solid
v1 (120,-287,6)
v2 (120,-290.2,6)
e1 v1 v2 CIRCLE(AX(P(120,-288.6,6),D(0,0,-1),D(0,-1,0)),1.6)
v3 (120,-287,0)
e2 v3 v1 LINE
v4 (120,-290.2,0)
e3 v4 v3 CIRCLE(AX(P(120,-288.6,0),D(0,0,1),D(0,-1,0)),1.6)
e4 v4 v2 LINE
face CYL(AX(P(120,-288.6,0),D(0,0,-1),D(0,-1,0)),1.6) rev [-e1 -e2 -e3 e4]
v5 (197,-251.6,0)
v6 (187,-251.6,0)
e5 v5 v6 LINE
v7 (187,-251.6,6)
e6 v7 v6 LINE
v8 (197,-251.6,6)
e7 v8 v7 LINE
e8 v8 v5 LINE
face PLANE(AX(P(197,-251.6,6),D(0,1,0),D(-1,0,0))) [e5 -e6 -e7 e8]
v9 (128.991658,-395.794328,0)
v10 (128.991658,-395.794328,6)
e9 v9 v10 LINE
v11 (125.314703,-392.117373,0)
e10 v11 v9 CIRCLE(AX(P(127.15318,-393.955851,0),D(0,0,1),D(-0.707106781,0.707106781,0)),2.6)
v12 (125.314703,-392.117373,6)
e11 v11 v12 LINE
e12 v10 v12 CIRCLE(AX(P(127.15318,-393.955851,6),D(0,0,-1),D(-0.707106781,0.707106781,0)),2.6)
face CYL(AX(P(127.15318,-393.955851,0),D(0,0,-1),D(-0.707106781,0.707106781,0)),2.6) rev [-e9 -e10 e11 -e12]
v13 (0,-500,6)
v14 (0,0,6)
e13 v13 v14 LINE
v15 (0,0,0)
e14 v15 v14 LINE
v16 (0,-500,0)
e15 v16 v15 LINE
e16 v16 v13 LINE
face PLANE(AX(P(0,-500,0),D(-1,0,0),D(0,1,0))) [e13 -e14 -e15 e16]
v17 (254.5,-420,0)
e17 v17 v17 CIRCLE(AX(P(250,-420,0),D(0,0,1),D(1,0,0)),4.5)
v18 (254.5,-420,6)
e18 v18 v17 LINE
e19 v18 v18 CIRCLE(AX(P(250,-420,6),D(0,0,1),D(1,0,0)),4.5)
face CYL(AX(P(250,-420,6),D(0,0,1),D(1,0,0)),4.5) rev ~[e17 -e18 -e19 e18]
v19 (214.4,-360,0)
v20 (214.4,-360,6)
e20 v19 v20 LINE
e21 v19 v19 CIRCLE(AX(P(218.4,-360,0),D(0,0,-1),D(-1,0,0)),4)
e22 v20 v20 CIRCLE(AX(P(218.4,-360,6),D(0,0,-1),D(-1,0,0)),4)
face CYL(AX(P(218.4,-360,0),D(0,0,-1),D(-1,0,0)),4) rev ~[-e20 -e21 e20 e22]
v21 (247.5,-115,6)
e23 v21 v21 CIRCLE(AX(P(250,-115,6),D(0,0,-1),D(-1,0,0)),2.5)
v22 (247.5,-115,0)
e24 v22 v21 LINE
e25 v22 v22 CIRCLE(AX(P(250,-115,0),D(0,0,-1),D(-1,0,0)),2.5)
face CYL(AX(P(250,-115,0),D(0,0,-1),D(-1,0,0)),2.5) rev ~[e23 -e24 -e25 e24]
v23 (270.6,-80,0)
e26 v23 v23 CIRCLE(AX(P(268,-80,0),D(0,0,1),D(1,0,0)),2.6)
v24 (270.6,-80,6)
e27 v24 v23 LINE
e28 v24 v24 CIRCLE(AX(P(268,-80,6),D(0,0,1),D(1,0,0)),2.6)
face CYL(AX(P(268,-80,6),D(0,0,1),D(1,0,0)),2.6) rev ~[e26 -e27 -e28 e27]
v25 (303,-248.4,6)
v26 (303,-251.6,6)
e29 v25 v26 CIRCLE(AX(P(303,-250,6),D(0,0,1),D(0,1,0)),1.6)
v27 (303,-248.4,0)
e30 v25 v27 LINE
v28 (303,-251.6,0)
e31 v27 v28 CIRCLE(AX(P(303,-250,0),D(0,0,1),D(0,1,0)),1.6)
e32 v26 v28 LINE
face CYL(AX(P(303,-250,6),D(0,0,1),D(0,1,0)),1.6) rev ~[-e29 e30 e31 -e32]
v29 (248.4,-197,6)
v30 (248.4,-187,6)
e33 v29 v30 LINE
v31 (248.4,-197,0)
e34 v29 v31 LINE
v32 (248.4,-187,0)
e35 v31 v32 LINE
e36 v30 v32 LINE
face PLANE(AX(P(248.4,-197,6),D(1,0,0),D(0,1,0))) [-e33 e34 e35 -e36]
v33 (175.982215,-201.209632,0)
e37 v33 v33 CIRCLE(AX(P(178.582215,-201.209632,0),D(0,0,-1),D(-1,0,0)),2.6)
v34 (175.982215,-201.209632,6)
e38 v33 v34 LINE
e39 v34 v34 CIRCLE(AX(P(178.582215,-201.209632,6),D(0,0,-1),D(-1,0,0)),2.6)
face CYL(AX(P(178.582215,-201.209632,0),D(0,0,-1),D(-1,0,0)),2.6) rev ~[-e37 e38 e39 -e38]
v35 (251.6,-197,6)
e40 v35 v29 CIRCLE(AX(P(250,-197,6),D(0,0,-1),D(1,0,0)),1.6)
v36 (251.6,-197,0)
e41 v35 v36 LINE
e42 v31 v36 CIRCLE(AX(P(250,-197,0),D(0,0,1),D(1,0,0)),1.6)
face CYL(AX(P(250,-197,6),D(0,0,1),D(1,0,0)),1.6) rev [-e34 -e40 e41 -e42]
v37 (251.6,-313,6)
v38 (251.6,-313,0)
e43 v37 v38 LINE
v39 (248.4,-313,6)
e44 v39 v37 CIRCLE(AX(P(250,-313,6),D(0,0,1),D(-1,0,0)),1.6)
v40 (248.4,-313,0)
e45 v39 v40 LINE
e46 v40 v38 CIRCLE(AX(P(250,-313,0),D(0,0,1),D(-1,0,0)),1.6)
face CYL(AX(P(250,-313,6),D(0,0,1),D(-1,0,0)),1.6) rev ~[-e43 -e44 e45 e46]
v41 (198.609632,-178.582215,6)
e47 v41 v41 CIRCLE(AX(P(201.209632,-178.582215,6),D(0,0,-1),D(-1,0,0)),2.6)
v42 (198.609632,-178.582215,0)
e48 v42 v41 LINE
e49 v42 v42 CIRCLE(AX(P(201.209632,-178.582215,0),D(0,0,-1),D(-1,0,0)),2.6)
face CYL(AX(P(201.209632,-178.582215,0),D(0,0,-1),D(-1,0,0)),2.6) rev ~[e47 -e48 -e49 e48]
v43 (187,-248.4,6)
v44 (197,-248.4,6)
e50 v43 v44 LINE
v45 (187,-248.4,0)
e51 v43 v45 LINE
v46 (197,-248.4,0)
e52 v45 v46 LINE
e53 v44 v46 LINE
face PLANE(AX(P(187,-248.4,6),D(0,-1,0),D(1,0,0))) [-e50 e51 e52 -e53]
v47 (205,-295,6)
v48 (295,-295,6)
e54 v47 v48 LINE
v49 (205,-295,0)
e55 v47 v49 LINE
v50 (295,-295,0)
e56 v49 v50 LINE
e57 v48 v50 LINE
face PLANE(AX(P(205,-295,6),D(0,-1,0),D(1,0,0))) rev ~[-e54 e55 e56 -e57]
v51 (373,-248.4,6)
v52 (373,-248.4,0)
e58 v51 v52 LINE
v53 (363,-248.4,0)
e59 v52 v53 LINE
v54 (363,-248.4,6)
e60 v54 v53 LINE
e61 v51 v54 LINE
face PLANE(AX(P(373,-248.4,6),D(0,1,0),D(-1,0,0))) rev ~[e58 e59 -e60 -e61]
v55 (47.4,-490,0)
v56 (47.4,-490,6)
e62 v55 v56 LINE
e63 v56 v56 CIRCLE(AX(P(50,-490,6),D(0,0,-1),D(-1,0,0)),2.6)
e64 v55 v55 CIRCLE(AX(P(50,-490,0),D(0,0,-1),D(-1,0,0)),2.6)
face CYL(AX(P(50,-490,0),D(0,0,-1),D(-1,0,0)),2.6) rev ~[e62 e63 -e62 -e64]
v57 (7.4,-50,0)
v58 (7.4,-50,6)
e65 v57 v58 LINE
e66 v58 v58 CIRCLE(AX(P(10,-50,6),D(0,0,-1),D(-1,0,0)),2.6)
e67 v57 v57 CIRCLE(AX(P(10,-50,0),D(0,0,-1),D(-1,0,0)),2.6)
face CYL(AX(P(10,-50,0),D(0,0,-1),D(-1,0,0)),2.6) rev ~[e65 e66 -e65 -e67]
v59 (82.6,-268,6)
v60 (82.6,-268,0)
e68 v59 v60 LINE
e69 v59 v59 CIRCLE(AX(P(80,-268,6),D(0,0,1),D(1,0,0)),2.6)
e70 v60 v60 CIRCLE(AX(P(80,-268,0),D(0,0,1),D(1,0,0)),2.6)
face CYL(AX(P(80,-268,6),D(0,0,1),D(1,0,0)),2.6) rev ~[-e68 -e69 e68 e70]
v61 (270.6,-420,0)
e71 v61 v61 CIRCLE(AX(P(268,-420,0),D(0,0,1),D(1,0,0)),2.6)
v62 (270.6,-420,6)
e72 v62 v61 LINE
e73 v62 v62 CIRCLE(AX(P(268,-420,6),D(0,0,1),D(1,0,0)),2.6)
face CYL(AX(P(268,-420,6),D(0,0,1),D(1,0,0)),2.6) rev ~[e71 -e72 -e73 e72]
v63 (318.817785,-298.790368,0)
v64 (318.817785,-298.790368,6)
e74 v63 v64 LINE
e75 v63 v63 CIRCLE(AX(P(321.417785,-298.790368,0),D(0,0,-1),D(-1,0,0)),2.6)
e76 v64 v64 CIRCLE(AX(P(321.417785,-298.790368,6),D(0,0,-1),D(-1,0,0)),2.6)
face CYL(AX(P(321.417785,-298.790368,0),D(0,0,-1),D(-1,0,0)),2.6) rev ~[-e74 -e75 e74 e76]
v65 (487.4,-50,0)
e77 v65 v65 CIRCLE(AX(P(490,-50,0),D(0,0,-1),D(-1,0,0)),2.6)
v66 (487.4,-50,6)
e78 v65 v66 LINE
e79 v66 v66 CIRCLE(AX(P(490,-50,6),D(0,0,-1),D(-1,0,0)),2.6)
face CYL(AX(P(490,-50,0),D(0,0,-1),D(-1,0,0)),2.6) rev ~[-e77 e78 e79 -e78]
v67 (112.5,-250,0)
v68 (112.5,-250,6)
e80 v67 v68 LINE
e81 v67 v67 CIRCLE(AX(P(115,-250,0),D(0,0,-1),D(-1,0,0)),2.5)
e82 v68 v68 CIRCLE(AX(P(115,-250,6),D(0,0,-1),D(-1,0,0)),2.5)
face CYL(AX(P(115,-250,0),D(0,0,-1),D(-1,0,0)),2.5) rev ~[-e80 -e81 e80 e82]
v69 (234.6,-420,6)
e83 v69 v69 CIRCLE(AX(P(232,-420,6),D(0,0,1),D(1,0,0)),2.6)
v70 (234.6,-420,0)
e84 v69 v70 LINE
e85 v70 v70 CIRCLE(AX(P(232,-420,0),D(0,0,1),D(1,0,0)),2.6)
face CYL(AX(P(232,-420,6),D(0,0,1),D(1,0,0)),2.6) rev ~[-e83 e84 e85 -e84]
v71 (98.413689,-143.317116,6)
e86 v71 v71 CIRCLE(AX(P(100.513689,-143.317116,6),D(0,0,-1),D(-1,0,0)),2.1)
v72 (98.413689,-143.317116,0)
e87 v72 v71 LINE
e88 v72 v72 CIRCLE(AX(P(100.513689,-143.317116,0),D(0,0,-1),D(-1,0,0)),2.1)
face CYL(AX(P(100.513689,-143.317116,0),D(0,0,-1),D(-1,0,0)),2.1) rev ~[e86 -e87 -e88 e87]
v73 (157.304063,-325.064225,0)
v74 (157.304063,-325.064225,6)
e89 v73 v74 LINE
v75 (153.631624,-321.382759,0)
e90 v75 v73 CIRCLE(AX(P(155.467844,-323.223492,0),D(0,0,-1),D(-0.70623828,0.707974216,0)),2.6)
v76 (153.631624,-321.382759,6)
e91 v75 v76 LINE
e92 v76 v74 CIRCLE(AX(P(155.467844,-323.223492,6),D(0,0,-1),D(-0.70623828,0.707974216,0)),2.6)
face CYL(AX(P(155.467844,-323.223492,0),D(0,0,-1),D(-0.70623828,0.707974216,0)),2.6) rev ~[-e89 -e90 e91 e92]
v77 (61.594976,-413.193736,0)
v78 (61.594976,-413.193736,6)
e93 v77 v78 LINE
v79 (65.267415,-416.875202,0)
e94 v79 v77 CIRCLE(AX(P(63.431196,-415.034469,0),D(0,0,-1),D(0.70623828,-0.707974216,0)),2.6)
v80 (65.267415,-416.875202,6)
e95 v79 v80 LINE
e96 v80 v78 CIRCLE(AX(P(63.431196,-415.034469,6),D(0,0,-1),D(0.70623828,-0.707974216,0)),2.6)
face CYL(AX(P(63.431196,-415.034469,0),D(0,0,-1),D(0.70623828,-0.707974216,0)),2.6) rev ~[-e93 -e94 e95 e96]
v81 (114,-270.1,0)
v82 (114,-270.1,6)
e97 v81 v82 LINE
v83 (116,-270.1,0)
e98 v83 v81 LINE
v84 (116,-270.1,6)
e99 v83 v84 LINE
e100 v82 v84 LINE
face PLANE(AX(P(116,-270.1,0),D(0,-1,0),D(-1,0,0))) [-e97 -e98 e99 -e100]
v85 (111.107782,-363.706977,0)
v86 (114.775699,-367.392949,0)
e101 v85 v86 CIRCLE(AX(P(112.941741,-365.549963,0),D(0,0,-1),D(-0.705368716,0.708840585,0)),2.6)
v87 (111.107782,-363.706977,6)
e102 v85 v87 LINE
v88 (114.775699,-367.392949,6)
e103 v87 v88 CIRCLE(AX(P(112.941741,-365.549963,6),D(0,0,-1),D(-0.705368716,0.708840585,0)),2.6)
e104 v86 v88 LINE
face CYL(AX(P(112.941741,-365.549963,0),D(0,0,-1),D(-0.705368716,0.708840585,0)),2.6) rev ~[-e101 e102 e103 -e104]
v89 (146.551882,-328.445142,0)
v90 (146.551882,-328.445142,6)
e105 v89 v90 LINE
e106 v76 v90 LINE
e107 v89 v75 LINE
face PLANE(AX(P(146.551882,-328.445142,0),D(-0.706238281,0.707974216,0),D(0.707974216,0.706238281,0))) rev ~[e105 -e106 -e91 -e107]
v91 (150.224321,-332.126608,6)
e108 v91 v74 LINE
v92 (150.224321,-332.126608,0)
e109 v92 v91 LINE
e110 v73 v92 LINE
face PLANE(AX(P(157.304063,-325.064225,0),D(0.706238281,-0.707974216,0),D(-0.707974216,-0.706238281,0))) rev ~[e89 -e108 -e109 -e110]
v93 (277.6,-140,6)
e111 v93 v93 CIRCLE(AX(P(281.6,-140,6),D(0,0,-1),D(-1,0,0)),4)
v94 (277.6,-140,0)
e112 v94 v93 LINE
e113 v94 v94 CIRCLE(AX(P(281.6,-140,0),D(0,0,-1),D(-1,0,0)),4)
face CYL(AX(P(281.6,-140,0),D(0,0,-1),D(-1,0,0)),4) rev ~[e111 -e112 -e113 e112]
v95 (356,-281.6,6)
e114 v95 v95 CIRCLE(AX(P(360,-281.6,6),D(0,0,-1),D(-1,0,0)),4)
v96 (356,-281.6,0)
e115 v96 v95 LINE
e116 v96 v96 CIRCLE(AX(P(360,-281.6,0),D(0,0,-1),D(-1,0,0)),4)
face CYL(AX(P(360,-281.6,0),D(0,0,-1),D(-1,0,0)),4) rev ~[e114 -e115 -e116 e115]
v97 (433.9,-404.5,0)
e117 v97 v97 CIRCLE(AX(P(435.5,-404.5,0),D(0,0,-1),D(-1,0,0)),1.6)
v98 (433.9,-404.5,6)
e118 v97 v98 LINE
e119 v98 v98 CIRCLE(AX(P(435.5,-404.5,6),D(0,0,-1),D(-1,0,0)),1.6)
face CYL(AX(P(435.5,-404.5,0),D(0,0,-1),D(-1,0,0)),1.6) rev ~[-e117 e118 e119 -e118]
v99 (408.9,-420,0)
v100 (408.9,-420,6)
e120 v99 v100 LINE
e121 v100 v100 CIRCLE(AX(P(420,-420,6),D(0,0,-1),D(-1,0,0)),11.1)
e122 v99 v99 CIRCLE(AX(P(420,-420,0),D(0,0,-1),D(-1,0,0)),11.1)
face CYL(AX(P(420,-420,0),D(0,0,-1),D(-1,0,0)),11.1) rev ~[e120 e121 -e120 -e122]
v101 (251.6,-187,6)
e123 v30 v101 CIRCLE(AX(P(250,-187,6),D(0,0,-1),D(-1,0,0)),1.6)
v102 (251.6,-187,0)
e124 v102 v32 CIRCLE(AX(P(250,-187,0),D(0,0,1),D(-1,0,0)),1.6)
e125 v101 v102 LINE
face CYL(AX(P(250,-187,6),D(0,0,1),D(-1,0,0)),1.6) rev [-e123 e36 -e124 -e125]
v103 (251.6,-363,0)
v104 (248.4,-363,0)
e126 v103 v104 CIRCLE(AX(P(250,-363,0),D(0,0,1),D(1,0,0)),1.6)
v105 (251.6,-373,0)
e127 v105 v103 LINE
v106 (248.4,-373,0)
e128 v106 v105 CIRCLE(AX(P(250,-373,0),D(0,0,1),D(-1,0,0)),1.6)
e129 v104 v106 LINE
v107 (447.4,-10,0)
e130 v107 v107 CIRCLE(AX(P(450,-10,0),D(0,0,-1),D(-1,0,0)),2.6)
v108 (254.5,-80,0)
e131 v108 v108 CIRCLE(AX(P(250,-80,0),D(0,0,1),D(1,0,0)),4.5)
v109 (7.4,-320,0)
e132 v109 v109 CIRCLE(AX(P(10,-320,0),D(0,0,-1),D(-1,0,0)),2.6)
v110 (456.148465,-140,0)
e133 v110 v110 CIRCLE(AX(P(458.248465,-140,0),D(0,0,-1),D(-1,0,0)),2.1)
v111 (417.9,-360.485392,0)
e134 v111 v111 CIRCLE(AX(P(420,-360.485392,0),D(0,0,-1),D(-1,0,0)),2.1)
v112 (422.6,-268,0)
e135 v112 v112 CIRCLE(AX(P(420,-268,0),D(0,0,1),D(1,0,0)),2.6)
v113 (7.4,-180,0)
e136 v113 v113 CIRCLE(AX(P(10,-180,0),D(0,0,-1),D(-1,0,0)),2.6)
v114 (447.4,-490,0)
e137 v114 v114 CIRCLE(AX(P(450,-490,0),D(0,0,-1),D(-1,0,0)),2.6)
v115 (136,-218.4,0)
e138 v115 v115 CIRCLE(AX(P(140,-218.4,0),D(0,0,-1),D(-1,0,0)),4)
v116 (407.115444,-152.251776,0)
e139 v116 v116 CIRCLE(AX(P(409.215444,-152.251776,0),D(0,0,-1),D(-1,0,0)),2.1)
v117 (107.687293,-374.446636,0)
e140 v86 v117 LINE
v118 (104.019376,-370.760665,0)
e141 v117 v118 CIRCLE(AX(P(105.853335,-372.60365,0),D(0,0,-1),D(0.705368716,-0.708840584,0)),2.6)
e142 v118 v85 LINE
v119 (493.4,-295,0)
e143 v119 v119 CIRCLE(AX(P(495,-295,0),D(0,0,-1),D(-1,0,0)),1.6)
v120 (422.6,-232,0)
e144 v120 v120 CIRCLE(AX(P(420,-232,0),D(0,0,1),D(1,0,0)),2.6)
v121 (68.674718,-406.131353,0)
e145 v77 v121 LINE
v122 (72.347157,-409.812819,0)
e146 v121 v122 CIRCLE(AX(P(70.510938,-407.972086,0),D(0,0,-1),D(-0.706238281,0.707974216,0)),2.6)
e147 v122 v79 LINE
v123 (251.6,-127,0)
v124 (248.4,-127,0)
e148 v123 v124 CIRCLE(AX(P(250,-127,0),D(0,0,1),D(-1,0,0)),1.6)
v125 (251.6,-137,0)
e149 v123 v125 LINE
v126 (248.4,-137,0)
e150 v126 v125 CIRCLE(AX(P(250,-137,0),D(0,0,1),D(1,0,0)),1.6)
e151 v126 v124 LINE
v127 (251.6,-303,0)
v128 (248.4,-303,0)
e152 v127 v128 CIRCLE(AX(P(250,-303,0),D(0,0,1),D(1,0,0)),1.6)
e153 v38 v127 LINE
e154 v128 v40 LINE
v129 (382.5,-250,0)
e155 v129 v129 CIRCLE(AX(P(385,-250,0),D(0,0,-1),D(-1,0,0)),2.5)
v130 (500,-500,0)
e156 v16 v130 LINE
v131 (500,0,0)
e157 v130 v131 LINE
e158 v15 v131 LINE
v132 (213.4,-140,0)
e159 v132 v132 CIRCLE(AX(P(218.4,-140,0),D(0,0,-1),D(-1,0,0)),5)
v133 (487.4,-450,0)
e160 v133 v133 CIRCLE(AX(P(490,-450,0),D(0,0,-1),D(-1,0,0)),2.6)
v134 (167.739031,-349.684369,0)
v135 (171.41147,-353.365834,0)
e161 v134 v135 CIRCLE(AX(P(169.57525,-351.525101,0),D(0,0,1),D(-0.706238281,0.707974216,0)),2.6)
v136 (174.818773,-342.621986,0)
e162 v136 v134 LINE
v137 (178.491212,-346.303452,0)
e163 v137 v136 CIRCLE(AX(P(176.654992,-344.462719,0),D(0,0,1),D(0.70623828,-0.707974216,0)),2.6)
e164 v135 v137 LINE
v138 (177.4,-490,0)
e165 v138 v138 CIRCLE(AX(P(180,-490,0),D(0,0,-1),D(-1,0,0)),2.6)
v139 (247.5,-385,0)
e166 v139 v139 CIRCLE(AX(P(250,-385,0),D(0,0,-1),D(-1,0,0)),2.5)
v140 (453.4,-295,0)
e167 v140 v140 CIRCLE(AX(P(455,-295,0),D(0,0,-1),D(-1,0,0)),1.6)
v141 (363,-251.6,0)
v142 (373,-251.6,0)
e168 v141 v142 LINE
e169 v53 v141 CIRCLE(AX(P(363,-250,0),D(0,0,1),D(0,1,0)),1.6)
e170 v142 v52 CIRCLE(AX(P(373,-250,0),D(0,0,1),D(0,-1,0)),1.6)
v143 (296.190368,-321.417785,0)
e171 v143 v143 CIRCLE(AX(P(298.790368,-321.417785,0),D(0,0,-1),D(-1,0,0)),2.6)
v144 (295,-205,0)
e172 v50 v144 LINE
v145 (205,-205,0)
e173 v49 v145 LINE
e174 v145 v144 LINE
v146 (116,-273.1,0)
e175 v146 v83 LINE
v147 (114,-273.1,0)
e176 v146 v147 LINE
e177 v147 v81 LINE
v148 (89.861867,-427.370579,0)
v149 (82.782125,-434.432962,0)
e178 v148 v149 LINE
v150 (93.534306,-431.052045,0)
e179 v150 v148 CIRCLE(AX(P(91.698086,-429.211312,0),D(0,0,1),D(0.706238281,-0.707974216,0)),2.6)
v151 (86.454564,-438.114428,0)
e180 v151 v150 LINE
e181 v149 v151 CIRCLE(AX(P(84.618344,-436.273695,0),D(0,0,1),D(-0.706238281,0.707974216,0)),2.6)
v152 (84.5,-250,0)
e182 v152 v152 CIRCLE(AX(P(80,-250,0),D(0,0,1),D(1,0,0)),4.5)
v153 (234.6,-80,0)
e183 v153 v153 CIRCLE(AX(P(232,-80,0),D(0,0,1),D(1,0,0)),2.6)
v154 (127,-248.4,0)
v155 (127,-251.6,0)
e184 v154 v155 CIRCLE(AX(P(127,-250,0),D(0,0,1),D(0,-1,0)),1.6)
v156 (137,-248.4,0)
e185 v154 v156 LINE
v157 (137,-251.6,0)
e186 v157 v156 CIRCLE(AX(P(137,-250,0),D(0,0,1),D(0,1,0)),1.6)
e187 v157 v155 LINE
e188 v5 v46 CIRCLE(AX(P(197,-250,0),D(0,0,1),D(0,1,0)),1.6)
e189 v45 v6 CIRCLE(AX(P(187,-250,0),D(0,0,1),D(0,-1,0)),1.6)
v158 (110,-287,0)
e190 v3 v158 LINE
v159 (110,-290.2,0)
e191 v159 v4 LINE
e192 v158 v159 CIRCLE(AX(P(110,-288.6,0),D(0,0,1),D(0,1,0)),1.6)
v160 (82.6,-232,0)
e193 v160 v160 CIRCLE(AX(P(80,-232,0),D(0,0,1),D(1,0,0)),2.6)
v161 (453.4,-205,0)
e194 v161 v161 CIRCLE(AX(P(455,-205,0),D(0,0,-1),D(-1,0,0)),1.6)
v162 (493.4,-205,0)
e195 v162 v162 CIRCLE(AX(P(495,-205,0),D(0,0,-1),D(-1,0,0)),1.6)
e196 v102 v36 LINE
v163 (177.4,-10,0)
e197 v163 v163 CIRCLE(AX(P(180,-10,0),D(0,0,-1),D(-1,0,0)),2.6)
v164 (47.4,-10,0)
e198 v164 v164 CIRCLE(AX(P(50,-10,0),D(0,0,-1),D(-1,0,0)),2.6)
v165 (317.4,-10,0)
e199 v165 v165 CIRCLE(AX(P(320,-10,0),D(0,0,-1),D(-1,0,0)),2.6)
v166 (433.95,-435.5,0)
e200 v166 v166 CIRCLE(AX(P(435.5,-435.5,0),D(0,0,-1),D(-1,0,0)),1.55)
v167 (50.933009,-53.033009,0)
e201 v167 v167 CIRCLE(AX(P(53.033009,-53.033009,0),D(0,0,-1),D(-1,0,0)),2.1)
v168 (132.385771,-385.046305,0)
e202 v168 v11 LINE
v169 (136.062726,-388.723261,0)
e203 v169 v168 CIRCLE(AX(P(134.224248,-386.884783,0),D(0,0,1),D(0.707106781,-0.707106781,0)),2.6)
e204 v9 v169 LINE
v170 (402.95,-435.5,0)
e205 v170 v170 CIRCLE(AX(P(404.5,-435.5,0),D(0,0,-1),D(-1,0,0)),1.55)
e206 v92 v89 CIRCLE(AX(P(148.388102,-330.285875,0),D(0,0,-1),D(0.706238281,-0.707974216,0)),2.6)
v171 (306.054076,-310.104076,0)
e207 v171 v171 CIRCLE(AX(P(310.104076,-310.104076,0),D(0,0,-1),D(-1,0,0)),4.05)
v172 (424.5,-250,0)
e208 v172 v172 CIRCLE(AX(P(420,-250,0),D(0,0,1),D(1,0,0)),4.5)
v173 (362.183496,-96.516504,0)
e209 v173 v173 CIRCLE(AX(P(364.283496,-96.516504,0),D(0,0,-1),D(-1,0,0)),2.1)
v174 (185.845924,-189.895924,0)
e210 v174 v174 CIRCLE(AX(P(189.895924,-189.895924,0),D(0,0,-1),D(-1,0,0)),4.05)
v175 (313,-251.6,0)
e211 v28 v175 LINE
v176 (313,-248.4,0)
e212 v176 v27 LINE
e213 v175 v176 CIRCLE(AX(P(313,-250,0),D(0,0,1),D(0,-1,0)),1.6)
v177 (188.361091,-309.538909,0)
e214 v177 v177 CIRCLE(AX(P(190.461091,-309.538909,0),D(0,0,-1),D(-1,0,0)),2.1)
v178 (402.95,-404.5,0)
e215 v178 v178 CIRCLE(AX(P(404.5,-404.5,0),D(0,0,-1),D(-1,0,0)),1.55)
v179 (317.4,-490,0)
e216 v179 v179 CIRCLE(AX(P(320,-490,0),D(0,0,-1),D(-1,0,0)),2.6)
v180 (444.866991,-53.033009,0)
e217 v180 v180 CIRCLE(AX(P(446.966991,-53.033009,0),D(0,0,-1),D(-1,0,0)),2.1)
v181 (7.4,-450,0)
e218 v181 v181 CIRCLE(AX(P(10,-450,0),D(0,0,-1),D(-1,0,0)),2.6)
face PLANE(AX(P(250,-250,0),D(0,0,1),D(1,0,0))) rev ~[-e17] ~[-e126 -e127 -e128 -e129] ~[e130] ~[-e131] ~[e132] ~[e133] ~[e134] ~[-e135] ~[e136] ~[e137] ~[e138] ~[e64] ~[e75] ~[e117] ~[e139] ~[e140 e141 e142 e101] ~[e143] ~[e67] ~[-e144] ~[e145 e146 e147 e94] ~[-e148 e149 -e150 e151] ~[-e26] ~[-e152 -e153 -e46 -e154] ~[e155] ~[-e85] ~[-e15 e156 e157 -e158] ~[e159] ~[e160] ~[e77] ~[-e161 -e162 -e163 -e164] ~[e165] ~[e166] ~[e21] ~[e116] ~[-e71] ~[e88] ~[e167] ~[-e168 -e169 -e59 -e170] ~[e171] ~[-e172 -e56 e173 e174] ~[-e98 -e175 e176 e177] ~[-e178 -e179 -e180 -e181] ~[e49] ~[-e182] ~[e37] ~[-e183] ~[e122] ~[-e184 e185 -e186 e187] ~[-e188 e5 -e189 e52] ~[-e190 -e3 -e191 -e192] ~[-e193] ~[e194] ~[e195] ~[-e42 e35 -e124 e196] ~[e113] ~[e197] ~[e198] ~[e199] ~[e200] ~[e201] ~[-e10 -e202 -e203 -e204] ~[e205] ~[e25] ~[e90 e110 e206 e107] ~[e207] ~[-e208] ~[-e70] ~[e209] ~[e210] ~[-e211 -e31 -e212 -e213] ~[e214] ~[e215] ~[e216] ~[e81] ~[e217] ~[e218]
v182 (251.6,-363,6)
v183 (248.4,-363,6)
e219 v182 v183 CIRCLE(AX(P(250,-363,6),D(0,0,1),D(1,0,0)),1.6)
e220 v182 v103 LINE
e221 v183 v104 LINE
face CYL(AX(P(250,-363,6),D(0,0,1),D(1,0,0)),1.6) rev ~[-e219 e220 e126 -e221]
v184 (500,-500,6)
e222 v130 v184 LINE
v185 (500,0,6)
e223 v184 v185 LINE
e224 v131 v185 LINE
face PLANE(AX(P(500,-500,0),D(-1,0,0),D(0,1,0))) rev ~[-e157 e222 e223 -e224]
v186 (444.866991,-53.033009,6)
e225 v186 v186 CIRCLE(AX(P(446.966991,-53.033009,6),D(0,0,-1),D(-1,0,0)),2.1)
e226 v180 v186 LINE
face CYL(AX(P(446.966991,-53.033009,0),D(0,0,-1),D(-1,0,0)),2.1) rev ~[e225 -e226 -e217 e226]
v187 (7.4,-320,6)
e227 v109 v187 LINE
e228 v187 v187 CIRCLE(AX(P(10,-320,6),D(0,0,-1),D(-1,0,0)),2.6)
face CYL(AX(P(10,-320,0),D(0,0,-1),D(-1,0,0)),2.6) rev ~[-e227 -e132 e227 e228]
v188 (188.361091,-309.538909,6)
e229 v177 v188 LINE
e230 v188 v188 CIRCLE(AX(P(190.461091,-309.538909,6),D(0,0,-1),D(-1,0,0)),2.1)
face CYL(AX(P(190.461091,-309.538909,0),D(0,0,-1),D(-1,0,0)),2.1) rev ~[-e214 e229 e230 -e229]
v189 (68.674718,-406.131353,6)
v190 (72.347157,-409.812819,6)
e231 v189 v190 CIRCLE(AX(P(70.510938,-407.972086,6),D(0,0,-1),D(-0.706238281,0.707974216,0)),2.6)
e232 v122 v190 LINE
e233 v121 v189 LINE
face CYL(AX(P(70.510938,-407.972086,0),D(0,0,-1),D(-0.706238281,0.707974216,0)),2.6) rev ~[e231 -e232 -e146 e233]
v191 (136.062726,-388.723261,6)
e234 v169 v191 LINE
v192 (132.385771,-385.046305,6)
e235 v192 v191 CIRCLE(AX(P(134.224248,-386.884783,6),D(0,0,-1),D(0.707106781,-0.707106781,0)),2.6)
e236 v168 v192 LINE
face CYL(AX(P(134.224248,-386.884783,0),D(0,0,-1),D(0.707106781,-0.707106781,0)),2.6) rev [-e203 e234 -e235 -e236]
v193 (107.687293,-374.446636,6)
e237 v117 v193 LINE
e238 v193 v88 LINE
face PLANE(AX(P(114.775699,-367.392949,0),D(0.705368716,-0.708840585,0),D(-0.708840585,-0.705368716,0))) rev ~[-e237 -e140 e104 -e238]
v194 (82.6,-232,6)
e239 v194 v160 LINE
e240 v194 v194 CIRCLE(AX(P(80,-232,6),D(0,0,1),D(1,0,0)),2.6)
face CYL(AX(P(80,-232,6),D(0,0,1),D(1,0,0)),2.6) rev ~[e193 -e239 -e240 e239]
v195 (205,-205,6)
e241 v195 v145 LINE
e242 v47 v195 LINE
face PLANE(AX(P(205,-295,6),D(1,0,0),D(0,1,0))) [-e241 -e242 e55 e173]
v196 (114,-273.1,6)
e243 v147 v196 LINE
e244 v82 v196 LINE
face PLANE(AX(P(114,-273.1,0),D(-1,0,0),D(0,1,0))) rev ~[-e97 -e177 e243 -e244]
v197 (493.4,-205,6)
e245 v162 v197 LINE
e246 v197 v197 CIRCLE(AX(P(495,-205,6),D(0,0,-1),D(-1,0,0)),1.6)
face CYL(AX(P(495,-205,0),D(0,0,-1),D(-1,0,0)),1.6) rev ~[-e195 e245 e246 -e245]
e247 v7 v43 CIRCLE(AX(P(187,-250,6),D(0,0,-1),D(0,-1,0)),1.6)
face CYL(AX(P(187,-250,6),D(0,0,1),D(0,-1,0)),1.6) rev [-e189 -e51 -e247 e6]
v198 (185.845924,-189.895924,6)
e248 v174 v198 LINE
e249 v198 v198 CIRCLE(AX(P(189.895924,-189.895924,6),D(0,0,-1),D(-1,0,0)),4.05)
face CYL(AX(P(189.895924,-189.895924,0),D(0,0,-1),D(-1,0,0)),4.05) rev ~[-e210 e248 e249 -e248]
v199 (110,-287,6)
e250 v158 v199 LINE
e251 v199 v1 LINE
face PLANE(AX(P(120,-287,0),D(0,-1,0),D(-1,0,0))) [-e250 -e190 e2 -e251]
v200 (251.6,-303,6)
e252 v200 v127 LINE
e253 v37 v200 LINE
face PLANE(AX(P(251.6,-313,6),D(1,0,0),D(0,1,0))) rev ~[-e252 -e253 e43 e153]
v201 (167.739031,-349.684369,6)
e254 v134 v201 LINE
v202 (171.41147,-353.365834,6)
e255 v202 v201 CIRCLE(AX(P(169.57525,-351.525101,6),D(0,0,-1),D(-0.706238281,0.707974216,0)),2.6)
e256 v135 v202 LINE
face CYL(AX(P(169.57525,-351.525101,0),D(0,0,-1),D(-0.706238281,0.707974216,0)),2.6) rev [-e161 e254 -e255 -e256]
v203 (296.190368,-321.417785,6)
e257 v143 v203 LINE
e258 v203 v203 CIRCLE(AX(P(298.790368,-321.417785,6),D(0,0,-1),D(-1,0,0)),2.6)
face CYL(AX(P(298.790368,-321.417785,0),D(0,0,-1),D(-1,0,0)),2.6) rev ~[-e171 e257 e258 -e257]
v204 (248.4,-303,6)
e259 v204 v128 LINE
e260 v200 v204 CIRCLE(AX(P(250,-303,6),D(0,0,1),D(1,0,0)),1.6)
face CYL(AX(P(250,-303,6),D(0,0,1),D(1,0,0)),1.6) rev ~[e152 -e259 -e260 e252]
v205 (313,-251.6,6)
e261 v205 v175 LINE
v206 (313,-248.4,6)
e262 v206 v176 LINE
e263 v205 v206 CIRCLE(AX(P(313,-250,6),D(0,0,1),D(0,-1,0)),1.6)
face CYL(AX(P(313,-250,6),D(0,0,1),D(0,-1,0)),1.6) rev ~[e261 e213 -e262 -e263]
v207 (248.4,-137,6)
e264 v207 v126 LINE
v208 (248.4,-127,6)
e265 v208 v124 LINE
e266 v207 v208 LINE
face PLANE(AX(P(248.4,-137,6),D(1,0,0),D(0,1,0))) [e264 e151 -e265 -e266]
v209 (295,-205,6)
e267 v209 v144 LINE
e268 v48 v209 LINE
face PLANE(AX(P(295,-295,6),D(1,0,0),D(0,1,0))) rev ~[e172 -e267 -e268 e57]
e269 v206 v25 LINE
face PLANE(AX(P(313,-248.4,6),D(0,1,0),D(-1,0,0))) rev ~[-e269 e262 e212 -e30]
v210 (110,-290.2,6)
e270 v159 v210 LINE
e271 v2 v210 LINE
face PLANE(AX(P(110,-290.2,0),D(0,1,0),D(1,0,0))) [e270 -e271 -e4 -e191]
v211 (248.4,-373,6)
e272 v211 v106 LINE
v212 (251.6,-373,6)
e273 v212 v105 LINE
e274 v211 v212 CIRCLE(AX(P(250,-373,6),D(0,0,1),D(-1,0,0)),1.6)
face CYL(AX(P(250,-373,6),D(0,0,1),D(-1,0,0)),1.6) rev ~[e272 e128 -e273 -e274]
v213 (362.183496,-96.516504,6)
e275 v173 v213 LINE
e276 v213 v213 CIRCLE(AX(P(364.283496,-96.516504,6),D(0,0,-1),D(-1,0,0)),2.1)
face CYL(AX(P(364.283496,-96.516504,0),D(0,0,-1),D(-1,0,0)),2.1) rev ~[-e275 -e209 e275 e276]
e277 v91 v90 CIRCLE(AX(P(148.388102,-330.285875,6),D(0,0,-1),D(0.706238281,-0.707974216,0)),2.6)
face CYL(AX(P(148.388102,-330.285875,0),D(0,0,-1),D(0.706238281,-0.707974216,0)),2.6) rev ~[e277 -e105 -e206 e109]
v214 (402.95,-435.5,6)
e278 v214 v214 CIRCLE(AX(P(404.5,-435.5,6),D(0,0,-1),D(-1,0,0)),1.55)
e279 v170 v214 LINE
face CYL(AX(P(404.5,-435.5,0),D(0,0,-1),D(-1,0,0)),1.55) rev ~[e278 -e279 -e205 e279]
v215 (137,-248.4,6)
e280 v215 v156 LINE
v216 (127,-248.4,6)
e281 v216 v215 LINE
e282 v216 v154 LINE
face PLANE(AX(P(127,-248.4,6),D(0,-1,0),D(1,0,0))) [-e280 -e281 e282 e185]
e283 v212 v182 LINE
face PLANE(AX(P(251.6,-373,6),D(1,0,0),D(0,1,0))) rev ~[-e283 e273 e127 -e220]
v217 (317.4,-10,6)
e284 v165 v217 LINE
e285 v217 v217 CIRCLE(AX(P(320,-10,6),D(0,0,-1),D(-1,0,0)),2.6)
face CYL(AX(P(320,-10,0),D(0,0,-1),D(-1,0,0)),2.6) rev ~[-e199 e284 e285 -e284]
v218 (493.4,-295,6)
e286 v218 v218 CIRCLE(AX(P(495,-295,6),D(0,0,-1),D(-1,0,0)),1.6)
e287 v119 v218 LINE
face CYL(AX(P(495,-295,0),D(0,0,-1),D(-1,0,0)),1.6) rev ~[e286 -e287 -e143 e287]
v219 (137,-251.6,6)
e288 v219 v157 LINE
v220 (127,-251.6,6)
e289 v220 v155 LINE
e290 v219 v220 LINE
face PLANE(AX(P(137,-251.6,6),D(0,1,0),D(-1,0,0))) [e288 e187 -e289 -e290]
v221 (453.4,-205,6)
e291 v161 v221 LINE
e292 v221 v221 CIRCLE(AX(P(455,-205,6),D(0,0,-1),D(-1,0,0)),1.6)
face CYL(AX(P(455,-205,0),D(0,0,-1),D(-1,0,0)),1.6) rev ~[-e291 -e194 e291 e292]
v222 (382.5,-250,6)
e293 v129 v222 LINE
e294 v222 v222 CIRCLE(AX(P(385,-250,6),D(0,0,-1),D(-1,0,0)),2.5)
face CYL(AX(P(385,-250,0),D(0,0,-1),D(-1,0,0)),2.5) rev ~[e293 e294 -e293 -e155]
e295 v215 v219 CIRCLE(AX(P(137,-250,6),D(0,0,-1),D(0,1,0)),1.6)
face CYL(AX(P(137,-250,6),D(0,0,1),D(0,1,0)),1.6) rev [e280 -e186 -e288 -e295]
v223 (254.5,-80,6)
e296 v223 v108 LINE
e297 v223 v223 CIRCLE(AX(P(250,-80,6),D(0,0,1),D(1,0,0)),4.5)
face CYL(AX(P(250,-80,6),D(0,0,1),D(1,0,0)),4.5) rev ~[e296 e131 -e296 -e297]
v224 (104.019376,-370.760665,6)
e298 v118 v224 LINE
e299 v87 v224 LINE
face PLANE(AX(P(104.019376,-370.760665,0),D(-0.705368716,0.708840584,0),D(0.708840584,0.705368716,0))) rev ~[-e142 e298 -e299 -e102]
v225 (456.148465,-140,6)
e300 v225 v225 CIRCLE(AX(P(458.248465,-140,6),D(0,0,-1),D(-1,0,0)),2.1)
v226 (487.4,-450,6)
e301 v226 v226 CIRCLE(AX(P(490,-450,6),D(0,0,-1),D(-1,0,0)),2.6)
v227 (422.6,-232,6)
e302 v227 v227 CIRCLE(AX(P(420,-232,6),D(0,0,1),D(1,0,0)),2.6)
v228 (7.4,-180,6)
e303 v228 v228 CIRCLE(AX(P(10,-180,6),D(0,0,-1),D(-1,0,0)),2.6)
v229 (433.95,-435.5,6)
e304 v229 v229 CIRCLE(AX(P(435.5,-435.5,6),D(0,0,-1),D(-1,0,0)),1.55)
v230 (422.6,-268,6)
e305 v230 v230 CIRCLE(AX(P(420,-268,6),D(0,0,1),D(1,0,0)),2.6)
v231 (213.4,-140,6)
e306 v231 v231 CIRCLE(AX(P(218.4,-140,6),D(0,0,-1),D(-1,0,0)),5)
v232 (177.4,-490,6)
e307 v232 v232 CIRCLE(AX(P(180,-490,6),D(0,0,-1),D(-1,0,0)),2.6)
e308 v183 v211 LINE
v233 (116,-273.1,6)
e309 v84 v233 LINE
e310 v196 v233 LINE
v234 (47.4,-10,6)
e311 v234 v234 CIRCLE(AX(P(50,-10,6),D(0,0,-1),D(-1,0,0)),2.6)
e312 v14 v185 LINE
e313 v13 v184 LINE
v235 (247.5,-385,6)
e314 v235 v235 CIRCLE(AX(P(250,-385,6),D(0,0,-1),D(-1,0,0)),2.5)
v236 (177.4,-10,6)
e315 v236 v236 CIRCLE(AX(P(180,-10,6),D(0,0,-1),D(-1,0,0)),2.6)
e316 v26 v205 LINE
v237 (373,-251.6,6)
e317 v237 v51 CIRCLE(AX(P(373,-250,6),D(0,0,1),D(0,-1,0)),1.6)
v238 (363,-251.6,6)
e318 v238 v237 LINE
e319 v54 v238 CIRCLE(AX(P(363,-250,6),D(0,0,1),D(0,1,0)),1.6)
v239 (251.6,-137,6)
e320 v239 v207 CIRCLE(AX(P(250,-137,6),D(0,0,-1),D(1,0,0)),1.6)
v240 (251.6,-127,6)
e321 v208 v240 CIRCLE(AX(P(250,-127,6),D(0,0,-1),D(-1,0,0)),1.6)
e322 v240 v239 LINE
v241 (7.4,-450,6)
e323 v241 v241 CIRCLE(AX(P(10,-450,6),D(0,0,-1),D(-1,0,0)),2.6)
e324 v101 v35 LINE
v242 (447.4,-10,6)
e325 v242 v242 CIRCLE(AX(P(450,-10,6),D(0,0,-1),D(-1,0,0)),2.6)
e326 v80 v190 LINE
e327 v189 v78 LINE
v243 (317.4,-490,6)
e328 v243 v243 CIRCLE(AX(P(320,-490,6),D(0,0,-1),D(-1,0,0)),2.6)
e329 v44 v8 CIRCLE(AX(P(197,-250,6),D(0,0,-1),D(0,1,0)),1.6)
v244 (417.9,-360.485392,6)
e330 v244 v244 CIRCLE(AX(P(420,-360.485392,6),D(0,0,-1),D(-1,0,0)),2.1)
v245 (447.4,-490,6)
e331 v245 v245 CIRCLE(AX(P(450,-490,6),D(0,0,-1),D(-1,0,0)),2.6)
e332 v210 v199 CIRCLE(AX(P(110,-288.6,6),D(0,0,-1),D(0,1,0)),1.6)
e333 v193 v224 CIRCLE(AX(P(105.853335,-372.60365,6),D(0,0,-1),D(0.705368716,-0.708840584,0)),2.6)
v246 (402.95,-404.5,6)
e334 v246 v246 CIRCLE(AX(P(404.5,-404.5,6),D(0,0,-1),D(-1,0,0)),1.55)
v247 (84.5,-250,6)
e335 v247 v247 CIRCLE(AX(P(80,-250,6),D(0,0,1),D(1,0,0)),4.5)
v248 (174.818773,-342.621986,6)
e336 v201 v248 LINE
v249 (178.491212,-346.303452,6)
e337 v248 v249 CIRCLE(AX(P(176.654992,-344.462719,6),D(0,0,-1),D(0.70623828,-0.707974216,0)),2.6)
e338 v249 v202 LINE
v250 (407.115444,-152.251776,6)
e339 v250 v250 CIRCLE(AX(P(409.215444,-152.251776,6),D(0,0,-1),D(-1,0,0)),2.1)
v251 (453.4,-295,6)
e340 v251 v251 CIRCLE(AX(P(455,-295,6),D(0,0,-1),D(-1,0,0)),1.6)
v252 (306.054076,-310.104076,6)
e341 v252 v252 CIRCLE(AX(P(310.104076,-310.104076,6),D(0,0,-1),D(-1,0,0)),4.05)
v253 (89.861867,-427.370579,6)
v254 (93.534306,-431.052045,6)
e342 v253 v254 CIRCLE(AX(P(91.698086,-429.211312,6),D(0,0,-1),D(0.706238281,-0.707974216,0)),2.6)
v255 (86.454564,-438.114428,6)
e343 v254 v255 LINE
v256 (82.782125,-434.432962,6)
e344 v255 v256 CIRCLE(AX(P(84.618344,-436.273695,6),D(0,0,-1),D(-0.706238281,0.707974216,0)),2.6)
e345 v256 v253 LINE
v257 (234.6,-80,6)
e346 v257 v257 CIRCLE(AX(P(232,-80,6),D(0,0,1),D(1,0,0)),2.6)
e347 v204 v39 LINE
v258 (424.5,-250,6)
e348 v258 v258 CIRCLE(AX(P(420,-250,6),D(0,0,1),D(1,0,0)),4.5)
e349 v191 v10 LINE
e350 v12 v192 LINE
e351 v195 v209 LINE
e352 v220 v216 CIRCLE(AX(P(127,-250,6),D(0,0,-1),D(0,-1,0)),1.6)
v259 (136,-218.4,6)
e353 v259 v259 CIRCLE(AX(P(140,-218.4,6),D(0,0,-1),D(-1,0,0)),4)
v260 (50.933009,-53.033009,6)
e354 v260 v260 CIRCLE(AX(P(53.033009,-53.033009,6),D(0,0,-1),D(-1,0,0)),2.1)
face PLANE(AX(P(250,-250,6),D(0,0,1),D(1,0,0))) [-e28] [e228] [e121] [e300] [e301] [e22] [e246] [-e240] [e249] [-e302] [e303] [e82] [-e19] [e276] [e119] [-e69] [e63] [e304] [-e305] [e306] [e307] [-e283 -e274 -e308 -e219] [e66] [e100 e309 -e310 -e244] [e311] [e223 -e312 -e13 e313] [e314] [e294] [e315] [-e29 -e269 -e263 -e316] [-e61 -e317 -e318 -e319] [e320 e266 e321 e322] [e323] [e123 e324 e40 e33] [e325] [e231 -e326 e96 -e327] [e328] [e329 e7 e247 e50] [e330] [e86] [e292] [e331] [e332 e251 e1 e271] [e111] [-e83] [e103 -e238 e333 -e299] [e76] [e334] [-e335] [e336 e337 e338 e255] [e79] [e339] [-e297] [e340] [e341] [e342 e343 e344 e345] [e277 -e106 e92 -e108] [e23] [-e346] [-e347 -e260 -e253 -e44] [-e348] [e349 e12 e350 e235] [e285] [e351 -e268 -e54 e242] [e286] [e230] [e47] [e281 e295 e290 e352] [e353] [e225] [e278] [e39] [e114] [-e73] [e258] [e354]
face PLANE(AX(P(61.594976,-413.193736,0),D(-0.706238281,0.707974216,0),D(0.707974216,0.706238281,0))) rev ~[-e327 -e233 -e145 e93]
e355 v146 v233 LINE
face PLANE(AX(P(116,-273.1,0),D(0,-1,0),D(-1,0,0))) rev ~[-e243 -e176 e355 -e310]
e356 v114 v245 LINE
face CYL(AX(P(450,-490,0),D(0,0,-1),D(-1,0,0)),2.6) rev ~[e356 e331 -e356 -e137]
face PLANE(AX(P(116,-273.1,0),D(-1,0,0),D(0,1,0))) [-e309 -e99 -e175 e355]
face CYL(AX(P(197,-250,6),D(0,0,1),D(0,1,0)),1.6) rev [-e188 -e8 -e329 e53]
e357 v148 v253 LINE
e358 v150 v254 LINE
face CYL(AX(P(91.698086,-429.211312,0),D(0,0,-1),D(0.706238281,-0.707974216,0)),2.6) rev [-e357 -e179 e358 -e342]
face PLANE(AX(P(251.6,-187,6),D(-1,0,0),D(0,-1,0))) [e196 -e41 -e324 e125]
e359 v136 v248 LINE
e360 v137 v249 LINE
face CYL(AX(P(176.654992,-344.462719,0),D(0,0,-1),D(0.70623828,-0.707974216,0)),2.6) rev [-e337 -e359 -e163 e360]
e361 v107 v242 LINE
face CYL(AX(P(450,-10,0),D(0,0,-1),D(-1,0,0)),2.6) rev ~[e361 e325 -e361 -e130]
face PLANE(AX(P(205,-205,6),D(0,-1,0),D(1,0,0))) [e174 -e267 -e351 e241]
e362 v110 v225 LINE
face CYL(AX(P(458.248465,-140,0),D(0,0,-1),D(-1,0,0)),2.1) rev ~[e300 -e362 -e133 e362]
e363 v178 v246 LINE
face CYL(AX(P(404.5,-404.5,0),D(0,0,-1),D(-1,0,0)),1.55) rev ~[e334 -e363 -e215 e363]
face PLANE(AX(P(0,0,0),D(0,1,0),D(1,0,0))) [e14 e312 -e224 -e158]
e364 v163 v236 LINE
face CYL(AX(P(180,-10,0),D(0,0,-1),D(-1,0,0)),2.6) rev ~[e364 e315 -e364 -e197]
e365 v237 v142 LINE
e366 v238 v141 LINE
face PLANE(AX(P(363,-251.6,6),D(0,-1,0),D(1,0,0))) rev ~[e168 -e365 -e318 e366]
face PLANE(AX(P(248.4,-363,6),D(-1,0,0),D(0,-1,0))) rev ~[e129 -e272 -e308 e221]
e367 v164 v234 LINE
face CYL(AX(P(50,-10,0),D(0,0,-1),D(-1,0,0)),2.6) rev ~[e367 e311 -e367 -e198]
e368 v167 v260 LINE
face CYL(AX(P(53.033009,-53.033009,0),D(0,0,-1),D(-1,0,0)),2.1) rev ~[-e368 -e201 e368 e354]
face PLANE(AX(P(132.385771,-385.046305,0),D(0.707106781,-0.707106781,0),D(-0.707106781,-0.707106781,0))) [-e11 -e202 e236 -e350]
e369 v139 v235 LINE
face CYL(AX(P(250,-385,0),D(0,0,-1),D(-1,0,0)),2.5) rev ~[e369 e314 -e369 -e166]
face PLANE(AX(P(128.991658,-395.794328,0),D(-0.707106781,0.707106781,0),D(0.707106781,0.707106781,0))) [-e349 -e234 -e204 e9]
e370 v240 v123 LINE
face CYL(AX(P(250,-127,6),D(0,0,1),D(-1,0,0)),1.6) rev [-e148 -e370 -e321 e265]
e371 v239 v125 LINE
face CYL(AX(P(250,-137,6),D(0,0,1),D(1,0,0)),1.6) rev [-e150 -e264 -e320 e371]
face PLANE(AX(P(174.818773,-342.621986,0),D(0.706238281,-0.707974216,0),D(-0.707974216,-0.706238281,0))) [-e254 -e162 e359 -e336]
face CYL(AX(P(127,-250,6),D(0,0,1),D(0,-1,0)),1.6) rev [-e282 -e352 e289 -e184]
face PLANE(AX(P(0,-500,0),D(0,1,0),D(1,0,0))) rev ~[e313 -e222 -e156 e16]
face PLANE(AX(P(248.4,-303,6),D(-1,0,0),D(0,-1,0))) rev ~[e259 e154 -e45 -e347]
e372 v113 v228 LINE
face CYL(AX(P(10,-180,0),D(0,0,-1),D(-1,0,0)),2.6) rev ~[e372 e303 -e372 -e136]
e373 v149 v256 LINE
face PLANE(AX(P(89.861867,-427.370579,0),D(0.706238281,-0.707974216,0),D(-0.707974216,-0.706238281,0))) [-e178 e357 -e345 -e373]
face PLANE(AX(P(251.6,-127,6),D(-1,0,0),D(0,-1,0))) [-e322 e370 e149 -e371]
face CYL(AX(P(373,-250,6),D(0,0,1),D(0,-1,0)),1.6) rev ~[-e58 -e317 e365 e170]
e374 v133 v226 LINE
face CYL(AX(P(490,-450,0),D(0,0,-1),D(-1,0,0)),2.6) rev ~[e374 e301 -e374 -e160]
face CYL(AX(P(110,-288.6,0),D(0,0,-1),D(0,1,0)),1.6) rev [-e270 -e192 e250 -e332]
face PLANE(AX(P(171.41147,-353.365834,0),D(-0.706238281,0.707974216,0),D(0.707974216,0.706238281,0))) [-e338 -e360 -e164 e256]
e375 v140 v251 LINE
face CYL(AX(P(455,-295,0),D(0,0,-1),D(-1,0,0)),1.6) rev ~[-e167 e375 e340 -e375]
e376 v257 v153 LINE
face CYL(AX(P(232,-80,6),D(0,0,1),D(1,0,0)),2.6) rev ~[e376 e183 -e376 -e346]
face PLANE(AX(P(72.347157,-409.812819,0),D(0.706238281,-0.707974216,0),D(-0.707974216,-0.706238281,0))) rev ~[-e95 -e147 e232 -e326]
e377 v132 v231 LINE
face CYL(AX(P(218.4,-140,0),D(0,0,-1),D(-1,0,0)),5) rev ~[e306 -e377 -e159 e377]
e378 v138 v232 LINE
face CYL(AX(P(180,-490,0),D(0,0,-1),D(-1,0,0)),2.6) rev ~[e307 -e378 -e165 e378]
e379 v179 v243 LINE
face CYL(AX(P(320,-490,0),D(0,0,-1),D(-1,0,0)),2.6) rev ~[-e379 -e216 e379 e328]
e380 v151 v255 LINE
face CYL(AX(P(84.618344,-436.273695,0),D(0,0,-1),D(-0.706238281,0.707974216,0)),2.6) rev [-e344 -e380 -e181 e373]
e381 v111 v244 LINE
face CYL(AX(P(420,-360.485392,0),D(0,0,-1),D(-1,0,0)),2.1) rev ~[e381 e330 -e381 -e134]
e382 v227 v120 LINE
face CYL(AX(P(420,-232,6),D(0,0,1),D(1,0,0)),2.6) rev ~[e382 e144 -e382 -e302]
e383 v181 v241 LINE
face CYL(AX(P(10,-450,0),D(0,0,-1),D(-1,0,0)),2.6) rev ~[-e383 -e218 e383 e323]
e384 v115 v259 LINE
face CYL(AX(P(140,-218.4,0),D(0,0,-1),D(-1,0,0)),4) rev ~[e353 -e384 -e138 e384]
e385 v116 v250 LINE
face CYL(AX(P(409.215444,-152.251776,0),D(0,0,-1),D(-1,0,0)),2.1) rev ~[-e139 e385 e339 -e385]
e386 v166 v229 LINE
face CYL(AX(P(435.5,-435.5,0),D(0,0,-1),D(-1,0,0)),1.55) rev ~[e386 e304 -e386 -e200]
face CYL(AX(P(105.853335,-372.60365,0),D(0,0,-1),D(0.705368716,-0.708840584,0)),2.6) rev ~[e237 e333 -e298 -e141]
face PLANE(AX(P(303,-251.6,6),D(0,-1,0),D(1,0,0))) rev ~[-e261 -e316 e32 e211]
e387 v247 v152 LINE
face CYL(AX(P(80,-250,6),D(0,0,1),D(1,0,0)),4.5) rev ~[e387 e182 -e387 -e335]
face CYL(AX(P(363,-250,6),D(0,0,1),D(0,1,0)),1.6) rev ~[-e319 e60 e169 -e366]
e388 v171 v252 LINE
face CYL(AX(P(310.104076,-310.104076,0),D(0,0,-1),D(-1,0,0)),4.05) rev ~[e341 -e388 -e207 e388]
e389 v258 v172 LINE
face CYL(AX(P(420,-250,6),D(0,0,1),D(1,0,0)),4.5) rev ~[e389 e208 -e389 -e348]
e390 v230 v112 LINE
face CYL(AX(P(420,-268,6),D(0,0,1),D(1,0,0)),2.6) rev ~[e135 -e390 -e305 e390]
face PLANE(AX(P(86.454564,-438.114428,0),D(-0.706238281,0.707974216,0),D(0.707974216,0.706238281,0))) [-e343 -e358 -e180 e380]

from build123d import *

# Parameters (mm, degrees)
SKETCH_1_W             = 500
SKETCH_1_H             = 500
EXTRUDE_1_DEPTH        = 6
SKETCH_2_W             = 90
SKETCH_2_H             = 90
CUT_EXTRUDE_565_DEPTH  = 7
CUT_EXTRUDE_1336_DEPTH = 7
SKETCH_4_R             = 4.5
SKETCH_4_R_2           = 2.6
CUT_EXTRUDE_2097_DEPTH = 7
CUT_EXTRUDE_3578_DEPTH = 7
SKETCH_7_R             = 4.05
SKETCH_7_R_2           = 2.6
CUT_EXTRUDE_4274_DEPTH = 7
SKETCH_8_R             = 2.6
CUT_EXTRUDE_4782_DEPTH = 7
SKETCH_5_R             = 11.1
SKETCH_5_R_2           = 1.6
SKETCH_5_R_3           = 1.55
CUT_EXTRUDE_4824_DEPTH = 7
SKETCH_9_R             = 2.5
CUT_EXTRUDE_4987_DEPTH = 7
SKETCH_10_R            = 1.6
MARK_DEPTH             = 7
SKETCH_11_W            = 2
SKETCH_11_H            = 3
CUT_EXTRUDE_5444_DEPTH = 7
SKETCH_12_R            = 4
CUT_EXTRUDE_5629_DEPTH = 7
SKETCH_13_R            = 2.1
CUT_EXTRUDE_3_DEPTH    = 7
SKETCH_14_R            = 5
CUT_EXTRUDE_4_DEPTH    = 7


with BuildPart() as part:
    # 草图1 → 凸台-拉伸1 (new body)
    with BuildSketch(Plane.XY):
        with Locations((250, -250)):
            Rectangle(SKETCH_1_W, SKETCH_1_H)
    extrude(amount=EXTRUDE_1_DEPTH)

    # 草图2 → Cut-Extrude 565 (cut, through all)
    with BuildSketch(Plane.XY.offset(6)):
        with Locations((250, -250)):
            Rectangle(SKETCH_2_W, SKETCH_2_H)
    extrude(amount=-CUT_EXTRUDE_565_DEPTH, mode=Mode.SUBTRACT)

    # 草图3 → Cut-Extrude 1336 (cut, through all)
    with BuildSketch(Plane.XY.offset(6)):
        with BuildLine():
            Line((248.4, -137), (248.4, -127))
            ThreePointArc((248.4, -127), (250, -125.4), (251.6, -127))
            Line((251.6, -127), (251.6, -137))
            ThreePointArc((251.6, -137), (250, -138.6), (248.4, -137))
        make_face()
        with BuildLine():
            Line((248.4, -197), (248.4, -187))
            ThreePointArc((248.4, -187), (250, -185.4), (251.6, -187))
            Line((251.6, -187), (251.6, -197))
            ThreePointArc((251.6, -197), (250, -198.6), (248.4, -197))
        make_face()
        with BuildLine():
            Line((248.4, -303), (248.4, -313))
            ThreePointArc((248.4, -313), (250, -314.6), (251.6, -313))
            Line((251.6, -313), (251.6, -303))
            ThreePointArc((251.6, -303), (250, -301.4), (248.4, -303))
        make_face()
        with BuildLine():
            Line((248.4, -363), (248.4, -373))
            ThreePointArc((248.4, -373), (250, -374.6), (251.6, -373))
            Line((251.6, -373), (251.6, -363))
            ThreePointArc((251.6, -363), (250, -361.4), (248.4, -363))
        make_face()
        with BuildLine():
            Line((187, -248.4), (197, -248.4))
            ThreePointArc((197, -248.4), (198.6, -250), (197, -251.6))
            Line((197, -251.6), (187, -251.6))
            ThreePointArc((187, -251.6), (185.4, -250), (187, -248.4))
        make_face()
        with BuildLine():
            Line((137, -251.6), (127, -251.6))
            ThreePointArc((127, -251.6), (125.4, -250), (127, -248.4))
            Line((127, -248.4), (137, -248.4))
            ThreePointArc((137, -248.4), (138.6, -250), (137, -251.6))
        make_face()
        with BuildLine():
            Line((313, -248.4), (303, -248.4))
            ThreePointArc((303, -248.4), (301.4, -250), (303, -251.6))
            Line((303, -251.6), (313, -251.6))
            ThreePointArc((313, -251.6), (314.6, -250), (313, -248.4))
        make_face()
        with BuildLine():
            Line((363, -251.6), (373, -251.6))
            ThreePointArc((373, -251.6), (374.6, -250), (373, -248.4))
            Line((373, -248.4), (363, -248.4))
            ThreePointArc((363, -248.4), (361.4, -250), (363, -251.6))
        make_face()
    extrude(amount=-CUT_EXTRUDE_1336_DEPTH, mode=Mode.SUBTRACT)

    # 草图4 → Cut-Extrude 2097 (cut, through all)
    with BuildSketch(Plane.XY.offset(6)):
        with Locations((420, -250)):
            Circle(SKETCH_4_R)
        with Locations((420, -268)):
            Circle(SKETCH_4_R_2)
        with Locations((420, -232)):
            Circle(SKETCH_4_R_2)
        with Locations((250, -420)):
            Circle(SKETCH_4_R)
        with Locations((232, -420)):
            Circle(SKETCH_4_R_2)
        with Locations((268, -420)):
            Circle(SKETCH_4_R_2)
        with Locations((80, -250)):
            Circle(SKETCH_4_R)
        with Locations((80, -232)):
            Circle(SKETCH_4_R_2)
        with Locations((80, -268)):
            Circle(SKETCH_4_R_2)
        with Locations((250, -80)):
            Circle(SKETCH_4_R)
        with Locations((268, -80)):
            Circle(SKETCH_4_R_2)
        with Locations((232, -80)):
            Circle(SKETCH_4_R_2)
    extrude(amount=-CUT_EXTRUDE_2097_DEPTH, mode=Mode.SUBTRACT)

    # 草图6 → Cut-Extrude 3578 (cut, through all)
    with BuildSketch(Plane(origin=(0, 0, 0), x_dir=(-1, 0, 0), z_dir=(0, 0, -1))):
        with BuildLine():
            Line((-174.818772789, -342.621985721), (-167.739030626, -349.684368528))
            ThreePointArc((-167.739030626, -349.684368528), (-167.734517194, -353.36132102), (-171.411469686, -353.365834453))
            Line((-171.411469686, -353.365834453), (-178.491211848, -346.303451645))
            ThreePointArc((-178.491211848, -346.303451645), (-178.495725281, -342.626499153), (-174.818772789, -342.621985721))
        make_face()
        with BuildLine():
            Line((-89.861866841, -427.370579408), (-82.782124679, -434.432962215))
            ThreePointArc((-82.782124679, -434.432962215), (-82.777611247, -438.109914707), (-86.454563739, -438.114428139))
            Line((-86.454563739, -438.114428139), (-93.534305901, -431.052045332))
            ThreePointArc((-93.534305901, -431.052045332), (-93.538819333, -427.37509284), (-89.861866841, -427.370579408))
        make_face()
        with BuildLine():
            Line((-72.347157479, -409.812818845), (-65.267415317, -416.875201653))
            ThreePointArc((-65.267415317, -416.875201653), (-61.590462825, -416.87068822), (-61.594976257, -413.193735728))
            Line((-61.594976257, -413.193735728), (-68.67471842, -406.131352921))
            ThreePointArc((-68.67471842, -406.131352921), (-72.351670912, -406.135866353), (-72.347157479, -409.812818845))
        make_face()
        with BuildLine():
            Line((-157.304063427, -325.064225159), (-150.224321264, -332.126607966))
            ThreePointArc((-150.224321264, -332.126607966), (-146.547368772, -332.122094534), (-146.551882205, -328.445142041))
            Line((-146.551882205, -328.445142041), (-153.631624367, -321.382759234))
            ThreePointArc((-153.631624367, -321.382759234), (-157.308576859, -321.387272667), (-157.304063427, -325.064225159))
        make_face()
        with BuildLine():
            Line((-132.385770641, -385.046305421), (-125.314702829, -392.117373233))
            ThreePointArc((-125.314702829, -392.117373233), (-125.314702829, -395.794328495), (-128.991658091, -395.794328495))
            Line((-128.991658091, -395.794328495), (-136.062725903, -388.723260683))
            ThreePointArc((-136.062725903, -388.723260683), (-136.062725903, -385.046305421), (-132.385770641, -385.046305421))
        make_face()
        with BuildLine():
            Line((-114.775699328, -367.392948508), (-107.687293483, -374.446635669))
            ThreePointArc((-107.687293483, -374.446635669), (-104.010349301, -374.437608811), (-104.019376159, -370.76066463))
            Line((-104.019376159, -370.76066463), (-111.107782004, -363.706977468))
            ThreePointArc((-111.107782004, -363.706977468), (-114.784726186, -363.716004326), (-114.775699328, -367.392948508))
        make_face()
    extrude(amount=-CUT_EXTRUDE_3578_DEPTH, mode=Mode.SUBTRACT)

    # 草图7 → Cut-Extrude 4274 (cut, through all)
    with BuildSketch(Plane(origin=(0, 0, 0), x_dir=(-1, 0, 0), z_dir=(0, 0, -1))):
        with Locations((-310.104076401, -310.104076401)):
            Circle(SKETCH_7_R)
        with Locations((-298.790367902, -321.4177849)):
            Circle(SKETCH_7_R_2)
        with Locations((-178.5822151, -201.209632098)):
            Circle(SKETCH_7_R_2)
        with Locations((-189.895923599, -189.895923599)):
            Circle(SKETCH_7_R)
        with Locations((-201.209632098, -178.5822151)):
            Circle(SKETCH_7_R_2)
        with Locations((-321.4177849, -298.790367902)):
            Circle(SKETCH_7_R_2)
    extrude(amount=-CUT_EXTRUDE_4274_DEPTH, mode=Mode.SUBTRACT)

    # 草图8 → Cut-Extrude 4782 (cut, through all)
    with BuildSketch(Plane(origin=(0, 0, 0), x_dir=(-1, 0, 0), z_dir=(0, 0, -1))):
        with Locations((-450, -10)):
            Circle(SKETCH_8_R)
        with Locations((-320, -10)):
            Circle(SKETCH_8_R)
        with Locations((-490, -50)):
            Circle(SKETCH_8_R)
        with Locations((-180, -10)):
            Circle(SKETCH_8_R)
        with Locations((-50, -10)):
            Circle(SKETCH_8_R)
        with Locations((-10, -180)):
            Circle(SKETCH_8_R)
        with Locations((-10, -50)):
            Circle(SKETCH_8_R)
        with Locations((-490, -450)):
            Circle(SKETCH_8_R)
        with Locations((-10, -320)):
            Circle(SKETCH_8_R)
        with Locations((-10, -450)):
            Circle(SKETCH_8_R)
        with Locations((-50, -490)):
            Circle(SKETCH_8_R)
        with Locations((-180, -490)):
            Circle(SKETCH_8_R)
        with Locations((-320, -490)):
            Circle(SKETCH_8_R)
        with Locations((-450, -490)):
            Circle(SKETCH_8_R)
    extrude(amount=-CUT_EXTRUDE_4782_DEPTH, mode=Mode.SUBTRACT)

    # 草图5 → Cut-Extrude 4824 (cut, through all)
    with BuildSketch(Plane(origin=(0, 0, 0), x_dir=(-1, 0, 0), z_dir=(0, 0, -1))):
        with Locations((-420, -420)):
            Circle(SKETCH_5_R)
        with Locations((-435.5, -404.5)):
            Circle(SKETCH_5_R_2)
        with Locations((-435.5, -435.5)):
            Circle(SKETCH_5_R_3)
        with Locations((-404.5, -435.5)):
            Circle(SKETCH_5_R_3)
        with Locations((-404.5, -404.5)):
            Circle(SKETCH_5_R_3)
    extrude(amount=-CUT_EXTRUDE_4824_DEPTH, mode=Mode.SUBTRACT)

    # 草图9 → Cut-Extrude 4987 (cut, through all)
    with BuildSketch(Plane(origin=(0, 0, 0), x_dir=(-1, 0, 0), z_dir=(0, 0, -1))):
        with Locations((-250, -115)):
            Circle(SKETCH_9_R)
        with Locations((-115, -250)):
            Circle(SKETCH_9_R)
        with Locations((-250, -385)):
            Circle(SKETCH_9_R)
        with Locations((-385, -250)):
            Circle(SKETCH_9_R)
    extrude(amount=-CUT_EXTRUDE_4987_DEPTH, mode=Mode.SUBTRACT)

    # 草图10 → mark (cut, through all)
    with BuildSketch(Plane(origin=(0, 0, 0), x_dir=(-1, 0, 0), z_dir=(0, 0, -1))):
        with Locations((-495, -295)):
            Circle(SKETCH_10_R)
        with Locations((-455, -295)):
            Circle(SKETCH_10_R)
        with Locations((-455, -205)):
            Circle(SKETCH_10_R)
        with Locations((-495, -205)):
            Circle(SKETCH_10_R)
    extrude(amount=-MARK_DEPTH, mode=Mode.SUBTRACT)

    # 草图11 → Cut-Extrude 5444 (cut, through all)
    with BuildSketch(Plane(origin=(0, 0, 0), x_dir=(-1, 0, 0), z_dir=(0, 0, -1))):
        with BuildLine():
            Line((-120, -287), (-110, -287))
            ThreePointArc((-110, -287), (-108.4, -288.6), (-110, -290.2))
            Line((-110, -290.2), (-120, -290.2))
            ThreePointArc((-120, -290.2), (-121.6, -288.6), (-120, -287))
        make_face()
        with Locations((-115, -271.6)):
            Rectangle(SKETCH_11_W, SKETCH_11_H)
    extrude(amount=-CUT_EXTRUDE_5444_DEPTH, mode=Mode.SUBTRACT)

    # 草图12 → Cut-Extrude 5629 (cut, through all)
    with BuildSketch(Plane(origin=(0, 0, 0), x_dir=(-1, 0, 0), z_dir=(0, 0, -1))):
        with Locations((-281.6, -140)):
            Circle(SKETCH_12_R)
        with Locations((-360, -281.6)):
            Circle(SKETCH_12_R)
        with Locations((-218.4, -360)):
            Circle(SKETCH_12_R)
        with Locations((-140, -218.4)):
            Circle(SKETCH_12_R)
    extrude(amount=-CUT_EXTRUDE_5629_DEPTH, mode=Mode.SUBTRACT)

    # 草图13 → 切除-拉伸3 (cut, through all)
    with BuildSketch(Plane(origin=(0, 0, 0), x_dir=(-1, 0, 0), z_dir=(0, 0, -1))):
        with Locations((-420, -360.485391833)):
            Circle(SKETCH_13_R)
        with Locations((-446.966991411, -53.033008589)):
            Circle(SKETCH_13_R)
        with Locations((-53.033008589, -53.033008589)):
            Circle(SKETCH_13_R)
        with Locations((-190.461090909, -309.538909091)):
            Circle(SKETCH_13_R)
        with Locations((-100.513688505, -143.317115932)):
            Circle(SKETCH_13_R)
        with Locations((-458.248464918, -140)):
            Circle(SKETCH_13_R)
        with Locations((-364.283495706, -96.516504294)):
            Circle(SKETCH_13_R)
        with Locations((-409.215443709, -152.251775839)):
            Circle(SKETCH_13_R)
    extrude(amount=-CUT_EXTRUDE_3_DEPTH, mode=Mode.SUBTRACT)

    # 草图14 → 切除-拉伸4 (cut, through all)
    with BuildSketch(Plane(origin=(0, 0, 0), x_dir=(-1, 0, 0), z_dir=(0, 0, -1))):
        with Locations((-218.4, -140)):
            Circle(SKETCH_14_R)
    extrude(amount=-CUT_EXTRUDE_4_DEPTH, mode=Mode.SUBTRACT)


solid = part.part
